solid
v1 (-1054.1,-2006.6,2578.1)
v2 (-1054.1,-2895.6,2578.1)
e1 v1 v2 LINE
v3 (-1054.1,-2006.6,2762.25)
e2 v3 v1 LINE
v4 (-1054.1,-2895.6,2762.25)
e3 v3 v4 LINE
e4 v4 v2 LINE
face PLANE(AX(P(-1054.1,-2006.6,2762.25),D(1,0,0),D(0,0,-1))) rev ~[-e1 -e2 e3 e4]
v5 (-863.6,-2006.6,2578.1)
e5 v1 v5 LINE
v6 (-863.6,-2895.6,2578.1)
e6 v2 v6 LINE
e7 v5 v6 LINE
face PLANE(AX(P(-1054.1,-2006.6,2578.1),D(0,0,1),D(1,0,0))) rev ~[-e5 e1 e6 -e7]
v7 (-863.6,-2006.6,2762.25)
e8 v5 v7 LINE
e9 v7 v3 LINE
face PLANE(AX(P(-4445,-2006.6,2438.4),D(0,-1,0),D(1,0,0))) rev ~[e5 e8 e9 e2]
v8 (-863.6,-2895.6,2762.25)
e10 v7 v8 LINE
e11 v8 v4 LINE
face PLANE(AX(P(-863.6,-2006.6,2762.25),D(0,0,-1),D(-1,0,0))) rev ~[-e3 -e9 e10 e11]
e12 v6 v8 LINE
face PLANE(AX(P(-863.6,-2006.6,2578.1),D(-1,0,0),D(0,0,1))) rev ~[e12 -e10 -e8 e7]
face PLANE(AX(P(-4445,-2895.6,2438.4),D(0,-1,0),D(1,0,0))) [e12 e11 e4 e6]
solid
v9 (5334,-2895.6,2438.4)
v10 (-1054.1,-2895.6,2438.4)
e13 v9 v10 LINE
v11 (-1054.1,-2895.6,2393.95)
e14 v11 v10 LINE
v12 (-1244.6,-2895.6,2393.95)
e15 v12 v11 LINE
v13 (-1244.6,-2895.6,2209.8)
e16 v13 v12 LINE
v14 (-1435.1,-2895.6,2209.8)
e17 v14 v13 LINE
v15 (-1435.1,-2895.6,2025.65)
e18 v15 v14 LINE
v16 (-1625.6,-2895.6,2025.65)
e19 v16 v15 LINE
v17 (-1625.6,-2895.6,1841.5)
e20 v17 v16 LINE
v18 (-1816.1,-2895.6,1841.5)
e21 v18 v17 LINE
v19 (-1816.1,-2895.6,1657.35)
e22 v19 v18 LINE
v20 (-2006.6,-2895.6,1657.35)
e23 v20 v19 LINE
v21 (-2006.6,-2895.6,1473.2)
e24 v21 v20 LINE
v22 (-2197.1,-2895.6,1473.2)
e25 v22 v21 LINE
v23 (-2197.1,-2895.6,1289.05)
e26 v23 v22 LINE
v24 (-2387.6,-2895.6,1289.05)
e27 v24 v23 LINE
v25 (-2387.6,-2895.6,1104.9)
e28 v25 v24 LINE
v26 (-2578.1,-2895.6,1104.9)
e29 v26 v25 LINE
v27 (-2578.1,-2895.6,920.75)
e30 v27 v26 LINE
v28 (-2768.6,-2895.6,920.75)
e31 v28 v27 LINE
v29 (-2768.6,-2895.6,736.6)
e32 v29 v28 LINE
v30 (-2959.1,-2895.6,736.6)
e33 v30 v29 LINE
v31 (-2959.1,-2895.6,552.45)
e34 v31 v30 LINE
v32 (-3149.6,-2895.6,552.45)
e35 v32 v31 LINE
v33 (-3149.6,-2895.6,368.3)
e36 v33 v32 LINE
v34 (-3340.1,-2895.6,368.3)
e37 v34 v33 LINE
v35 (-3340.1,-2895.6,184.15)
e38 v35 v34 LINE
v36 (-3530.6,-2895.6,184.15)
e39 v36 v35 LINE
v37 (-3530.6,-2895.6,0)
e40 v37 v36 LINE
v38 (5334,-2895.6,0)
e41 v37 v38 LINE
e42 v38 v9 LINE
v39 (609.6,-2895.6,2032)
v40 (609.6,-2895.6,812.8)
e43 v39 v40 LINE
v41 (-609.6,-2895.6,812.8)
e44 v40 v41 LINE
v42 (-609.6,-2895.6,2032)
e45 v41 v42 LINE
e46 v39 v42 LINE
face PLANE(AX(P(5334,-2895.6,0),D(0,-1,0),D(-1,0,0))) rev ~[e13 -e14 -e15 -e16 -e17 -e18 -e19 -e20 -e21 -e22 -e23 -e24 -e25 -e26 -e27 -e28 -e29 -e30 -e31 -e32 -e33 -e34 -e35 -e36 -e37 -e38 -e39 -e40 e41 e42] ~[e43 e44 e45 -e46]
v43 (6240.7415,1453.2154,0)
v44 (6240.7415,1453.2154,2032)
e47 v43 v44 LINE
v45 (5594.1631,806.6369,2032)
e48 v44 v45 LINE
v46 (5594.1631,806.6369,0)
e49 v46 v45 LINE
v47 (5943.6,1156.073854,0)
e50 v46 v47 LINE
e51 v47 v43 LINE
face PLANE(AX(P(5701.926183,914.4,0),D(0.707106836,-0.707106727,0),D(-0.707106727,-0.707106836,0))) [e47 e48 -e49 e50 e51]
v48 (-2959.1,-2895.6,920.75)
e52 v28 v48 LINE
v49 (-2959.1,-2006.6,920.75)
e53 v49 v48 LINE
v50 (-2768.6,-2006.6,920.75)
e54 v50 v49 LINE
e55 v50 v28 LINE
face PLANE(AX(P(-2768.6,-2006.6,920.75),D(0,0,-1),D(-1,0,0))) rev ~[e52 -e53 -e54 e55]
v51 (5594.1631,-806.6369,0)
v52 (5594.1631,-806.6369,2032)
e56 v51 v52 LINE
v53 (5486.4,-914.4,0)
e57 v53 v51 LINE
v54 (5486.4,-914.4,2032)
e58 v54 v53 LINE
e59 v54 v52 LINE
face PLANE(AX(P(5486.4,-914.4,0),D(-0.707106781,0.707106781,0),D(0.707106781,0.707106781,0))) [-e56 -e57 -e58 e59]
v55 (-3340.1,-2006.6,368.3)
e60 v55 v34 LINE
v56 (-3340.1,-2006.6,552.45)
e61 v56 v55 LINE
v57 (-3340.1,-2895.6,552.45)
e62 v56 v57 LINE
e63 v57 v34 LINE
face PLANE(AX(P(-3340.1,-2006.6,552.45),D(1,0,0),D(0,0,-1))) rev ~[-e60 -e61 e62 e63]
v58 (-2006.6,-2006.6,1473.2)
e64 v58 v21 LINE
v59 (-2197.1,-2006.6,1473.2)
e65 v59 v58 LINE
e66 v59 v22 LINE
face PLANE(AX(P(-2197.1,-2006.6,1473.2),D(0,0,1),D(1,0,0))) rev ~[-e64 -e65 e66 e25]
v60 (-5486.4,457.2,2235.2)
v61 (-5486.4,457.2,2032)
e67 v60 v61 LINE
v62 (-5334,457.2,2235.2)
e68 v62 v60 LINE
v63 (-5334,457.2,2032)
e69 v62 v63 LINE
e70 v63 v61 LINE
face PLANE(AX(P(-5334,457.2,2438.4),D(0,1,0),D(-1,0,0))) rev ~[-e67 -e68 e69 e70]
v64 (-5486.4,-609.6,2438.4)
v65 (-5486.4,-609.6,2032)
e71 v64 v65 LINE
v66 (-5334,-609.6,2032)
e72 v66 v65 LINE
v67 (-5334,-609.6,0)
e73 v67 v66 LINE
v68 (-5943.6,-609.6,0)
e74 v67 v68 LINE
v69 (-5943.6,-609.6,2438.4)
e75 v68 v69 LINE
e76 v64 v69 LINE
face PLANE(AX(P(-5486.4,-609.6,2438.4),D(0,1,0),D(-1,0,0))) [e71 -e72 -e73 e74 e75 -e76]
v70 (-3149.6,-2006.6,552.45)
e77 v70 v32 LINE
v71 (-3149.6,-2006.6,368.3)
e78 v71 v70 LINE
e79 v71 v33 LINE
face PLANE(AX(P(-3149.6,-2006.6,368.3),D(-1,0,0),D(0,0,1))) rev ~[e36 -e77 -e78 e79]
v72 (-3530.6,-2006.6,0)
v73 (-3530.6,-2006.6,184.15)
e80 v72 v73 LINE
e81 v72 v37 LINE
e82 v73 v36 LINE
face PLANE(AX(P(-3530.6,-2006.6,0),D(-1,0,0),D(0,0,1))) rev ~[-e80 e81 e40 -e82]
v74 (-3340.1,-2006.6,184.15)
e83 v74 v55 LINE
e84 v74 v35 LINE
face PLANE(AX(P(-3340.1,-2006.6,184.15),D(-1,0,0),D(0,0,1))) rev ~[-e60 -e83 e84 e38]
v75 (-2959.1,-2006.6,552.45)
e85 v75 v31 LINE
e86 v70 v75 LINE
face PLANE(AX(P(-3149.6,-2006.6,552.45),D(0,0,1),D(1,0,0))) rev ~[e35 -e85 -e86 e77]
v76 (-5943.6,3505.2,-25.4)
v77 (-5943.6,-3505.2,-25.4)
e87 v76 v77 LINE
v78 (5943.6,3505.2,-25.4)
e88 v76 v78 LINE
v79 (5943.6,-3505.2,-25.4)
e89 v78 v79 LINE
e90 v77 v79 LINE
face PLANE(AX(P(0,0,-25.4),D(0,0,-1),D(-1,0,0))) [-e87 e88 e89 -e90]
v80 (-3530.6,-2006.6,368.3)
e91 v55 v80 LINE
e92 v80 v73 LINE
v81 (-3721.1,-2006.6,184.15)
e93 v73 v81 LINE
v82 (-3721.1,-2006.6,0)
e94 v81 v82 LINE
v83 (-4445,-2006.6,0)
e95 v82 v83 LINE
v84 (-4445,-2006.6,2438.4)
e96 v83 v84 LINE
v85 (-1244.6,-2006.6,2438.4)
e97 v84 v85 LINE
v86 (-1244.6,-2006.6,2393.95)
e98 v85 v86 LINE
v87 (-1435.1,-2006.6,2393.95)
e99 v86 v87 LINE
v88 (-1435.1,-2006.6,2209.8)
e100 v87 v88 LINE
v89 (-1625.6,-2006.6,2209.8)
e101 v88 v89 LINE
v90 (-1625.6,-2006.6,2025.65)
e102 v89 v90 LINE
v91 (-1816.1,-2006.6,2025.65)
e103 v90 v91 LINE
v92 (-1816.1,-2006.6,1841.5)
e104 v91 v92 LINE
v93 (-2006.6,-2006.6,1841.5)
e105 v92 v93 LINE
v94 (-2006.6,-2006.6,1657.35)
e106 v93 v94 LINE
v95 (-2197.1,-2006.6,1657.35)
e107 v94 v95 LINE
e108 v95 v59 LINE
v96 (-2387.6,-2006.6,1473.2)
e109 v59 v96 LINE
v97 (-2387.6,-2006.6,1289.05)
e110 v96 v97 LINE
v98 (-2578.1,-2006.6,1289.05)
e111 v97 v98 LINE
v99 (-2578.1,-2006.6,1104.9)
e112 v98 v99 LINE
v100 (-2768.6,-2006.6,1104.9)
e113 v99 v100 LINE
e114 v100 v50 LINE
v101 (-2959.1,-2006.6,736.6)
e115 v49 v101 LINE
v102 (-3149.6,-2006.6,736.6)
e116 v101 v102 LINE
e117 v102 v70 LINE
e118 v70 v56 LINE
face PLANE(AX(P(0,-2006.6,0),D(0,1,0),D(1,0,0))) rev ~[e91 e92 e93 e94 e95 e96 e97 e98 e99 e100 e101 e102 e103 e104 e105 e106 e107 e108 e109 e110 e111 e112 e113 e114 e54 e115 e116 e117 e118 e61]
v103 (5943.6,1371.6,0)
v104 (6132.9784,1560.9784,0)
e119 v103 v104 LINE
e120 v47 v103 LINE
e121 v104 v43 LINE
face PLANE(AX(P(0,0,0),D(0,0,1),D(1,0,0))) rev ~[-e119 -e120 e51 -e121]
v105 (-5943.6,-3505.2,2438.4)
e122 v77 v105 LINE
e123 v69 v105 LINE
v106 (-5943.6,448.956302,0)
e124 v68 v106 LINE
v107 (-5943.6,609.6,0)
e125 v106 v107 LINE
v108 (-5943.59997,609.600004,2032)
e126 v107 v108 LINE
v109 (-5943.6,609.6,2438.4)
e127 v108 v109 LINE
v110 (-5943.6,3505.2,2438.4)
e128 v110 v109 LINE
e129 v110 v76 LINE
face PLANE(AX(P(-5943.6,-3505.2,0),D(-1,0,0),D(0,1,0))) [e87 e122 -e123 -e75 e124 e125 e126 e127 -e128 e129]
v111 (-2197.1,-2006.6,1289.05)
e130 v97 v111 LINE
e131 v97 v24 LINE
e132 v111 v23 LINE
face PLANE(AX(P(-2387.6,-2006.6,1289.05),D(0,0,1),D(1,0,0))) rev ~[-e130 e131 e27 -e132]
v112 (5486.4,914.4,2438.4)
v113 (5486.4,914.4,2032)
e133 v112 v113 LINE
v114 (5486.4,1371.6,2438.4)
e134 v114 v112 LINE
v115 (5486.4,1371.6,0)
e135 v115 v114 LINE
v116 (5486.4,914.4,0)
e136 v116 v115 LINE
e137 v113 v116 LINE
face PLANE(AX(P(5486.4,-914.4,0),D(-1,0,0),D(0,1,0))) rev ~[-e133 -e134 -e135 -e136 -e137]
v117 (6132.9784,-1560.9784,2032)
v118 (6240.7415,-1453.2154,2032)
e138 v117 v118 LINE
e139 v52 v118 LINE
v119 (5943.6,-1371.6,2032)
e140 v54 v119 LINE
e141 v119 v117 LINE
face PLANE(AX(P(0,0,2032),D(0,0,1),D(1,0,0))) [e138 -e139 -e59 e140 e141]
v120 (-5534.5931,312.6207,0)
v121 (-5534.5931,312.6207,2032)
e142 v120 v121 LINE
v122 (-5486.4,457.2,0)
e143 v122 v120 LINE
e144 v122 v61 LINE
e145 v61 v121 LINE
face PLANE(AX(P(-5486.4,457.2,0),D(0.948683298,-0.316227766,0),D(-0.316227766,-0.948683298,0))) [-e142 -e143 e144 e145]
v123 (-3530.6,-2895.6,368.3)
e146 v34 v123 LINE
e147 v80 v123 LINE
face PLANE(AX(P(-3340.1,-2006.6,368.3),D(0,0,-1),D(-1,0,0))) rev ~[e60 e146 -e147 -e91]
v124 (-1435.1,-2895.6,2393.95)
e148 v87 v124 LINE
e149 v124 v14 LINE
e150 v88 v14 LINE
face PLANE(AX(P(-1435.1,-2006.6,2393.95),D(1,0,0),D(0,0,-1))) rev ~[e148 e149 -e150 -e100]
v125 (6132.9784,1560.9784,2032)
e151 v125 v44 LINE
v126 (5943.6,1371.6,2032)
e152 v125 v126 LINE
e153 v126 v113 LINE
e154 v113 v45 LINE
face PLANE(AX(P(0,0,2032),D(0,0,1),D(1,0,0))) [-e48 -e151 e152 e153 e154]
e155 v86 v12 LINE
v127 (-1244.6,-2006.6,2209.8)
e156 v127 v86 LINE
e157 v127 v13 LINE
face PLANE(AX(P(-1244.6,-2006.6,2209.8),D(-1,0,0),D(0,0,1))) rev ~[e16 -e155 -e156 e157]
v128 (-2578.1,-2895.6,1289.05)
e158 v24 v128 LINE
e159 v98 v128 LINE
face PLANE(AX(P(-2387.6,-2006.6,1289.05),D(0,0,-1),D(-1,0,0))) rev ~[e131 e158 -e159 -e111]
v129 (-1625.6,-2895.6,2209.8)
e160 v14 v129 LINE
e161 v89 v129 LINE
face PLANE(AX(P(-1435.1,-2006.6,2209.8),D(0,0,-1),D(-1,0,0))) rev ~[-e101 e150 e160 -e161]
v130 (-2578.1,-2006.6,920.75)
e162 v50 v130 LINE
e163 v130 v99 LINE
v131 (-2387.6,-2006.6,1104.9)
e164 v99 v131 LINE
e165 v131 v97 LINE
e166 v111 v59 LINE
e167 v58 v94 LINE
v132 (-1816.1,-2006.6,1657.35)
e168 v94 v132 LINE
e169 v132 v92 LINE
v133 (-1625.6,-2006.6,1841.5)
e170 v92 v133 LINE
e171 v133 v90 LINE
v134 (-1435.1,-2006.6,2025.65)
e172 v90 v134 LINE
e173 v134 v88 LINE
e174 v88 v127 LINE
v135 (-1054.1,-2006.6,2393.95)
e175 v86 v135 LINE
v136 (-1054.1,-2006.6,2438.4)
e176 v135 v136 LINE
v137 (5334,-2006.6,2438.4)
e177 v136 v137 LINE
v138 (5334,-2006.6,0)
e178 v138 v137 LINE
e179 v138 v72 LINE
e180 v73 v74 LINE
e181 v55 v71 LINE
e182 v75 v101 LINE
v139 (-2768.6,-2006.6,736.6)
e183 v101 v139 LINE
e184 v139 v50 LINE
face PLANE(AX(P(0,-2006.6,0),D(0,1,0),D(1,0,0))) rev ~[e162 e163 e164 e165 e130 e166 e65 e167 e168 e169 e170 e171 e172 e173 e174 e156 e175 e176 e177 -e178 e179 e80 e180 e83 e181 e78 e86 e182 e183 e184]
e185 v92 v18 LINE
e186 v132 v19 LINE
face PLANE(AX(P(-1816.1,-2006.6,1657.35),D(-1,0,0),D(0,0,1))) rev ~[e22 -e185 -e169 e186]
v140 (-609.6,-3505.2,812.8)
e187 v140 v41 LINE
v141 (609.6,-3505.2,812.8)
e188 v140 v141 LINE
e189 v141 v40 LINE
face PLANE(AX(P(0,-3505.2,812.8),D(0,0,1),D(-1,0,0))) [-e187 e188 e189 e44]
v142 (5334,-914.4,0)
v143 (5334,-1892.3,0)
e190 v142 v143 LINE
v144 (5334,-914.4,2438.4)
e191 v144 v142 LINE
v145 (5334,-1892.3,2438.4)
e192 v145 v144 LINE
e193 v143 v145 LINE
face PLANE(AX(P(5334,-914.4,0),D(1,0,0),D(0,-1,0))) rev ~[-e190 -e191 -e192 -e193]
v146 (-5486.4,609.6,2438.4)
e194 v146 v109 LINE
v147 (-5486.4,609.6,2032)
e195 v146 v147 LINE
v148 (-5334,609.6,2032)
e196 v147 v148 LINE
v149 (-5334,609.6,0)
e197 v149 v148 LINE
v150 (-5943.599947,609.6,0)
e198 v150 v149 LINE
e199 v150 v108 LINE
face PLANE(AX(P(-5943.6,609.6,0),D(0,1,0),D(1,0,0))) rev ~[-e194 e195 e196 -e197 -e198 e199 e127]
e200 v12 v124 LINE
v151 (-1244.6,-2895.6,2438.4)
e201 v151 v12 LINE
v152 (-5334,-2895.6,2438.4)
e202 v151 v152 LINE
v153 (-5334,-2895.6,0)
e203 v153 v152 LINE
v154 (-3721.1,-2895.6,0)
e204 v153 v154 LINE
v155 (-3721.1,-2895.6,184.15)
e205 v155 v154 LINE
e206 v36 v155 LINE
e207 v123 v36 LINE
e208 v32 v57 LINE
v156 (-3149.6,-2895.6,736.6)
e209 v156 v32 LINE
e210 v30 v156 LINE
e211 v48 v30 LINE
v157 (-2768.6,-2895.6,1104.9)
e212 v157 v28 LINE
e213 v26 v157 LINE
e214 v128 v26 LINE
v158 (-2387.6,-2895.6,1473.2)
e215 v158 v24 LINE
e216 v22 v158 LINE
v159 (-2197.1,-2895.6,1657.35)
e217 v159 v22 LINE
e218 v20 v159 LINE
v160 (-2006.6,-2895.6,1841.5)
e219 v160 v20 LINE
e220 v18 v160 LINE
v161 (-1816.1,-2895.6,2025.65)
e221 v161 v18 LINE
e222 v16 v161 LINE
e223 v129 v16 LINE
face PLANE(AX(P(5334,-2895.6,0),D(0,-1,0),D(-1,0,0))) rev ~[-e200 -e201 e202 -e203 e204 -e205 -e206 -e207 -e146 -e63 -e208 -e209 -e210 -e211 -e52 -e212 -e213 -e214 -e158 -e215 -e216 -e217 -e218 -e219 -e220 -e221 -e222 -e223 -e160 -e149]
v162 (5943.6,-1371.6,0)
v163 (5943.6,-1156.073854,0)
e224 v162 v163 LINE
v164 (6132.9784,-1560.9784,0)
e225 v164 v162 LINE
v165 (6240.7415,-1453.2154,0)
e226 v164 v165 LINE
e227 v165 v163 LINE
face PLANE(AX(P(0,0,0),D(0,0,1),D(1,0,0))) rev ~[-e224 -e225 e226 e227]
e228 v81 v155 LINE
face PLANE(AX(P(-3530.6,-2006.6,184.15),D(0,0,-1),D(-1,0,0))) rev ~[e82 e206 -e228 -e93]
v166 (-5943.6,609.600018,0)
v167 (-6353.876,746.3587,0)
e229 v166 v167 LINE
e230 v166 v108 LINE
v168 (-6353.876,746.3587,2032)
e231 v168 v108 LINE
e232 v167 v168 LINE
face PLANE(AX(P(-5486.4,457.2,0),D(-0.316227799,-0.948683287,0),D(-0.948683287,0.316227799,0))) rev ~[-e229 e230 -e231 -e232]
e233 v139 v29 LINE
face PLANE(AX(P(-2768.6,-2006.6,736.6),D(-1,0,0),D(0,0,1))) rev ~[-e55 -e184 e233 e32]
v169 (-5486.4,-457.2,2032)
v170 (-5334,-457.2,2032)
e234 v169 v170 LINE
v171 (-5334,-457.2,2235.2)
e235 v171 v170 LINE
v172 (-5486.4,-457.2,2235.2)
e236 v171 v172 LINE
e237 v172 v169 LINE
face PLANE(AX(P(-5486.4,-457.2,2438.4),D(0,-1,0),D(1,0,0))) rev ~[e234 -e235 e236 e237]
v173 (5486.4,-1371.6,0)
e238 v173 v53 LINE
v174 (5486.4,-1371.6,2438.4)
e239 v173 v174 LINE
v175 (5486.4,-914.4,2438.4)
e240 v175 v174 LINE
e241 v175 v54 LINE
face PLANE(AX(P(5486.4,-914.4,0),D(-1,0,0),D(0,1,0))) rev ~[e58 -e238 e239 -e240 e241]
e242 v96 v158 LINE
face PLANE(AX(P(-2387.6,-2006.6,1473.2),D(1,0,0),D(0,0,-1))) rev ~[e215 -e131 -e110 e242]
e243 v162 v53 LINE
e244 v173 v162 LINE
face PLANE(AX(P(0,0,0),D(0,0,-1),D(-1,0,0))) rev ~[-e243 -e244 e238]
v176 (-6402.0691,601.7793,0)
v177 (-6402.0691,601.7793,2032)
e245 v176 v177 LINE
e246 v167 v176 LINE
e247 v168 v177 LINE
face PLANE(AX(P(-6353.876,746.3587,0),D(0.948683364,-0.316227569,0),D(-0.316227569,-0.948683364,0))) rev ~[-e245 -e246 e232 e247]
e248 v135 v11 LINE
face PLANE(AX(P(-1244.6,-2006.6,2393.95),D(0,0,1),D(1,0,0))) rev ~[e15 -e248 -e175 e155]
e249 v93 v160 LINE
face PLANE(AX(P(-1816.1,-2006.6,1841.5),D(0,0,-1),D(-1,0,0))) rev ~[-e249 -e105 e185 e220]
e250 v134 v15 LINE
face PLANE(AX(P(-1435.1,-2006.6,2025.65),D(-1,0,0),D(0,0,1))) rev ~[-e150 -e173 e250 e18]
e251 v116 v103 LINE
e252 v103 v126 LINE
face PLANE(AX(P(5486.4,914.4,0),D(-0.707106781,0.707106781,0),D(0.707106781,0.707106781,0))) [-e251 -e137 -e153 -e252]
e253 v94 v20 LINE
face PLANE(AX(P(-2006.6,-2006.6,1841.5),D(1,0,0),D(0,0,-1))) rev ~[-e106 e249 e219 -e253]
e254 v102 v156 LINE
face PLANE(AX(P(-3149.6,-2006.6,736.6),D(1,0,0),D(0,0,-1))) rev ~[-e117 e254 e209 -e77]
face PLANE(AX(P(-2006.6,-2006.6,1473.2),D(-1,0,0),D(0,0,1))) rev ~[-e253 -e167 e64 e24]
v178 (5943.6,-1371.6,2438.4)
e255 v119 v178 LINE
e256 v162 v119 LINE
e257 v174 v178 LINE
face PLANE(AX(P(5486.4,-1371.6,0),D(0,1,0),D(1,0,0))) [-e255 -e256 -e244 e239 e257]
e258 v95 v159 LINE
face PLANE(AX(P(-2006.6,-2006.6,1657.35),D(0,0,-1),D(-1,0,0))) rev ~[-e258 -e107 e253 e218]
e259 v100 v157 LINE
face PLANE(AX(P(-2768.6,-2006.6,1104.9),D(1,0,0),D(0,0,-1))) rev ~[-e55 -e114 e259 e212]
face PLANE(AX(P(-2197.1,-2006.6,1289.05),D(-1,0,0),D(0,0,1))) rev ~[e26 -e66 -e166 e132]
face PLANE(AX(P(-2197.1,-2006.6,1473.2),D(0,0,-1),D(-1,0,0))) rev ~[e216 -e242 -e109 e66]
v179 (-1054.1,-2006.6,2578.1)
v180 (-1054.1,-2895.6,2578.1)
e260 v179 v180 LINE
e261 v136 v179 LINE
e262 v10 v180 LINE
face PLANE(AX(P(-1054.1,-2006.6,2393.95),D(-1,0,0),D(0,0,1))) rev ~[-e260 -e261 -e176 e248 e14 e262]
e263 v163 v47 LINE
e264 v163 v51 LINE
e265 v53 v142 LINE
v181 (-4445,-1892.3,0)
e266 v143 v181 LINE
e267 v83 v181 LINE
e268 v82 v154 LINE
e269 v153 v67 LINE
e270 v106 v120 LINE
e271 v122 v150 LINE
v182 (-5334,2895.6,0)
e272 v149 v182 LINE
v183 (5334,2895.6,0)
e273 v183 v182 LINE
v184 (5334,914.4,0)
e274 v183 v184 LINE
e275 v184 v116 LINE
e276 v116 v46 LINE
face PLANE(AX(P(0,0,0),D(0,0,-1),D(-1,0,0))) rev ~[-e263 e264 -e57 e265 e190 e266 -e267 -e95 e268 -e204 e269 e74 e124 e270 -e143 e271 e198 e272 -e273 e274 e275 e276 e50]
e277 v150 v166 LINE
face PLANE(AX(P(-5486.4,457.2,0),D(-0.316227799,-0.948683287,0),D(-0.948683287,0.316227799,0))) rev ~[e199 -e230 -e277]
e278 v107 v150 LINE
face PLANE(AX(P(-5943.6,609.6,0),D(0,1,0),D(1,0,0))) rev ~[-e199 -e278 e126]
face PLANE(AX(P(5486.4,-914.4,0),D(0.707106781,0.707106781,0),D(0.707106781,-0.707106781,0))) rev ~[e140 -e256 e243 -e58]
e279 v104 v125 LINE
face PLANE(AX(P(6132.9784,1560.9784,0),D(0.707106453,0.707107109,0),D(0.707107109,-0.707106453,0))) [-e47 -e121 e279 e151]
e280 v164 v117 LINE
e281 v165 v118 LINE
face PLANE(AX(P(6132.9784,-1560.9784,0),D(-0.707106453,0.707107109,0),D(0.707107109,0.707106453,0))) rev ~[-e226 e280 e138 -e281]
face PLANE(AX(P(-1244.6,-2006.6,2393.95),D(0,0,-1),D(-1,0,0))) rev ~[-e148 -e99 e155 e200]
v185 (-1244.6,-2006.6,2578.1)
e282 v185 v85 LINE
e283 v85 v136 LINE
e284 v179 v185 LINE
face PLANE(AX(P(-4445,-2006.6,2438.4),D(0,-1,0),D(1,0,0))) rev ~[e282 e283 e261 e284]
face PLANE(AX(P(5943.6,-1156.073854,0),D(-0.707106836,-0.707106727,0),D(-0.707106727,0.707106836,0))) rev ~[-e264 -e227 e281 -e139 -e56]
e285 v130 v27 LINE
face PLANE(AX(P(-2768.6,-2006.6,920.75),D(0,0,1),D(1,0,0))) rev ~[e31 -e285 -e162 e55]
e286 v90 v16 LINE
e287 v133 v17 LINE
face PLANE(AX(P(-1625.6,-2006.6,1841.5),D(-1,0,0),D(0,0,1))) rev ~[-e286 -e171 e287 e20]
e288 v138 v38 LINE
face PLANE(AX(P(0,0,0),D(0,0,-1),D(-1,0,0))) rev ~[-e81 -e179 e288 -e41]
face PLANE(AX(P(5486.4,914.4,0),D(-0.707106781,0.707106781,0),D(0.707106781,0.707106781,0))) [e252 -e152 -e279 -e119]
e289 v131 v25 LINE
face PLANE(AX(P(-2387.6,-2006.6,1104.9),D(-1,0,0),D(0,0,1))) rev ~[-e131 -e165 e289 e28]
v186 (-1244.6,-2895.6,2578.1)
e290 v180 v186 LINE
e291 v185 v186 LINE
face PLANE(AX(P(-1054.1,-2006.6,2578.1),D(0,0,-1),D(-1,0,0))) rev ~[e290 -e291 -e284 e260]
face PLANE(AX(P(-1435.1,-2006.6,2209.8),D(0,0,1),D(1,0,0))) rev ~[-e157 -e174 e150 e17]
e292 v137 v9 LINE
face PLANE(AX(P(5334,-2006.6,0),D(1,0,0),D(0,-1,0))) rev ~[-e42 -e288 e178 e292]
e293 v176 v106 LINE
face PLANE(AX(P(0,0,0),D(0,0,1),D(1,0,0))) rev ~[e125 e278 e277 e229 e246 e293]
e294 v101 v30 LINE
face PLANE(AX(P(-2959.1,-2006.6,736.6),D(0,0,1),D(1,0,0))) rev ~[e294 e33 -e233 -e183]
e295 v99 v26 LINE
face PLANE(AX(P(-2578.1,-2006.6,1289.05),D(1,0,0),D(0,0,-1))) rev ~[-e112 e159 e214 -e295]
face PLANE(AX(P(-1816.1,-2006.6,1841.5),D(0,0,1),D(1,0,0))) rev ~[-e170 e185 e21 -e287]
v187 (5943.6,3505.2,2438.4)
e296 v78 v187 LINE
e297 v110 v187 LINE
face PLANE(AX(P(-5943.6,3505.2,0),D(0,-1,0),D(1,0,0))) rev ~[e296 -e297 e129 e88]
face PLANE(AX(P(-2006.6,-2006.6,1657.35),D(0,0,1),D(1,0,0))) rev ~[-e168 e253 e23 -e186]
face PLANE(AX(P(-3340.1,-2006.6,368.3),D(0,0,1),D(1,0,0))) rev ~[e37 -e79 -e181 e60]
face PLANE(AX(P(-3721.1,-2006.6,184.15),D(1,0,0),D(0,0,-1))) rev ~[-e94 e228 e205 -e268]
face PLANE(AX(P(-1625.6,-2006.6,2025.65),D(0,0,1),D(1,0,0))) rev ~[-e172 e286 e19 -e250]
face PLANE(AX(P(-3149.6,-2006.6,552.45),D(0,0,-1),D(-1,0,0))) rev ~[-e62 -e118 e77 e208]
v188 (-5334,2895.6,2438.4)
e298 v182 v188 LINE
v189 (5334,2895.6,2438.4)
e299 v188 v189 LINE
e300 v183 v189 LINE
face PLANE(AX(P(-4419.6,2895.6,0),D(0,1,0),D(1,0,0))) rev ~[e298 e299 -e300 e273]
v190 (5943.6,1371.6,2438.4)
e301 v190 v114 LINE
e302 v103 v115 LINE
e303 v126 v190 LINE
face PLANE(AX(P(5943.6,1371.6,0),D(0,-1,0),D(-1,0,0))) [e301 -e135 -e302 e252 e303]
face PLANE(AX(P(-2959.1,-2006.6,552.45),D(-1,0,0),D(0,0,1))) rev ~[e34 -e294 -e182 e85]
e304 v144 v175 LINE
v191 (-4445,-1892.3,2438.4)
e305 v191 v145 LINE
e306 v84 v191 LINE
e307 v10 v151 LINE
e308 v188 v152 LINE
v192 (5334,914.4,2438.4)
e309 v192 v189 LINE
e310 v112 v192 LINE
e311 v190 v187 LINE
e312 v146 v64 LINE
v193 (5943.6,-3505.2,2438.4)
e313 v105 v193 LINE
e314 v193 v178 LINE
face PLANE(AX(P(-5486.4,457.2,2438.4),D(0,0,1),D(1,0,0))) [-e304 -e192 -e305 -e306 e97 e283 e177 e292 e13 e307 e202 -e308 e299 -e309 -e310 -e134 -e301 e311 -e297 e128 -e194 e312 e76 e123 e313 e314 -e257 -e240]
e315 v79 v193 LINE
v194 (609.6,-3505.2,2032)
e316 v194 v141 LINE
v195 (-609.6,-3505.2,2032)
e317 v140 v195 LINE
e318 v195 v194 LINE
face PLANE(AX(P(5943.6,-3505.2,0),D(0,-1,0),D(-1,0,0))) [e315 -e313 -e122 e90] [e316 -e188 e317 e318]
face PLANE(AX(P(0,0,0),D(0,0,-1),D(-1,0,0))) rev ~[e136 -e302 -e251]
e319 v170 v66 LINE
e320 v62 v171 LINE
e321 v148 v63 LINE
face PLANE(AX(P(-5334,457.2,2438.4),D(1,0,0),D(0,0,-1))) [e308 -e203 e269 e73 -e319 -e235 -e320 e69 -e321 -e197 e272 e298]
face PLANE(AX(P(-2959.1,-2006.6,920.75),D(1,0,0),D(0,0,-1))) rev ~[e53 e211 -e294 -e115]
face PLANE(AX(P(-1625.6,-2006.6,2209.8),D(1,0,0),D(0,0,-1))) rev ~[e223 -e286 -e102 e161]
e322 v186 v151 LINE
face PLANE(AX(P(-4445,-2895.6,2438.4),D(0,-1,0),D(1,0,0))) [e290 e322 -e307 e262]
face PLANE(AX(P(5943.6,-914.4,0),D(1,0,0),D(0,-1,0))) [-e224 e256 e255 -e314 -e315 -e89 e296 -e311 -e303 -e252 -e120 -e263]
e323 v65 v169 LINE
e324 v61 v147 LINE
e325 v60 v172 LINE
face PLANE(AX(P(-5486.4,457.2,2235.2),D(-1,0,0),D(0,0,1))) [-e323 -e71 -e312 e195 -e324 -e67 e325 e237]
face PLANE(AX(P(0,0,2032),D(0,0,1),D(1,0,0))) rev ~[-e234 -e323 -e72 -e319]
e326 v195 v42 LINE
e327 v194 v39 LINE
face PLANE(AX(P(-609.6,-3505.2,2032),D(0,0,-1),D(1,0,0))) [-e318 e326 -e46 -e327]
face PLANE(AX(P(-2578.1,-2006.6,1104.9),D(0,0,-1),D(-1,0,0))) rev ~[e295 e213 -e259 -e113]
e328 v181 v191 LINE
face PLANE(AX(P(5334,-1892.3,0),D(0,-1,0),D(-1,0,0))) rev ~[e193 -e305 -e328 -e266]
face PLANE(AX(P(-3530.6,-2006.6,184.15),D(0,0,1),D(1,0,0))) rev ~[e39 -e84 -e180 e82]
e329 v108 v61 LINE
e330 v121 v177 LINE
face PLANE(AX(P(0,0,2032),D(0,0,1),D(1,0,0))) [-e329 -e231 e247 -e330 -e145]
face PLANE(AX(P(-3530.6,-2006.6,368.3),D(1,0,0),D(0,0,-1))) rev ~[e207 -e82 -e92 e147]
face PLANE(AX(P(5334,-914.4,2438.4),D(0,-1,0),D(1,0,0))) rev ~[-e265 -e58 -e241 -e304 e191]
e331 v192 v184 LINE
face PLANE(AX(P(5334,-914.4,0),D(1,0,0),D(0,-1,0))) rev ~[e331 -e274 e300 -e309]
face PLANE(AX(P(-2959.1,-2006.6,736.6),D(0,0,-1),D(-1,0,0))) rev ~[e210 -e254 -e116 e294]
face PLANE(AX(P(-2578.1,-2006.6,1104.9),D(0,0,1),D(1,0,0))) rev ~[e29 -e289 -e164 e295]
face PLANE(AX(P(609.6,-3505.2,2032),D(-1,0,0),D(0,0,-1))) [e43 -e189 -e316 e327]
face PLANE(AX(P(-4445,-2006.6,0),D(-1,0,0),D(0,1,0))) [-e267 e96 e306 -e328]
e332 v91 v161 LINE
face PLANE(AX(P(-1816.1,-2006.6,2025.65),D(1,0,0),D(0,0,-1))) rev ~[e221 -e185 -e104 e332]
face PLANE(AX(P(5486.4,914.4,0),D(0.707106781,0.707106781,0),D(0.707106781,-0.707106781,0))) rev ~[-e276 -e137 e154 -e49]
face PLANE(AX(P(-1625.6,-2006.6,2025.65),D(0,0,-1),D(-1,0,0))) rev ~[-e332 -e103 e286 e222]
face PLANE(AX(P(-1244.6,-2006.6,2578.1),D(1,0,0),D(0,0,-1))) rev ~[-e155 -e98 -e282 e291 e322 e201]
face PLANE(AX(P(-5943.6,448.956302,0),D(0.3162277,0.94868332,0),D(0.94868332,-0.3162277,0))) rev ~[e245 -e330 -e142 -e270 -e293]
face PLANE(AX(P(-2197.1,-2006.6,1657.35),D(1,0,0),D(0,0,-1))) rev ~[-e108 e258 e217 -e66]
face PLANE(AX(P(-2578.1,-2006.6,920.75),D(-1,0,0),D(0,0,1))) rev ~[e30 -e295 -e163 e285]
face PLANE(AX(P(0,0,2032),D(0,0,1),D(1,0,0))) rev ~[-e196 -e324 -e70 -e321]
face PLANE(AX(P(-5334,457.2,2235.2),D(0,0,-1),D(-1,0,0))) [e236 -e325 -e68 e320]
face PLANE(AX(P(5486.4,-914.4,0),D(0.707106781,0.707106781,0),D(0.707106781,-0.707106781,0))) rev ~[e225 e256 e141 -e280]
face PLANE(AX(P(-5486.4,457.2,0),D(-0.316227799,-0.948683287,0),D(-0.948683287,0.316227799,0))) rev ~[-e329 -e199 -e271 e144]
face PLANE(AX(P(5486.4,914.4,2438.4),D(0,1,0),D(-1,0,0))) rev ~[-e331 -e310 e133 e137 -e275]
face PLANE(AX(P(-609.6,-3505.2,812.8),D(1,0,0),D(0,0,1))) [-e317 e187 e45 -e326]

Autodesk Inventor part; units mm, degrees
ref_plane "YZ Plane" through (0, 0, 0) normal (1, 0, 0) x (0, 1, 0)
ref_plane "XZ Plane" through (0, 0, 0) normal (0, 1, 0) x (-1, 0, 0)
ref_plane "XY Plane" through (0, 0, 0) normal (0, 0, 1) x (1, 0, 0)
sketch "Sketch1" plane through (0, 0, 0) normal (0, 0, 1) x (1, 0, 0)
  line L0 (-8321.04, 0) -> (8321.04, 0) projected
  line L1 (-5943.6, 3505.2) -> (5943.6, 3505.2)
  line L2 (-5334, 2895.6) -> (5334, 2895.6)
  line L3 (-4572, 2895.6) -> (-4419.6, 2895.6)
  line L4 (-1981.2, -2006.6) -> (-4445, -2006.6)
  line L5 (-4445, -2006.6) -> (-4445, -1892.3)
  line L6 (-1219.2, -2895.6) -> (-1066.8, -2895.6)
  line L7 (5334, -2895.6) -> (0, -2895.6)
  line L8 (0, -2895.6) -> (-5334, -2895.6)
  line L9 (5943.6, -3505.2) -> (0, -3505.2)
  line L10 (0, -3505.2) -> (-5943.6, -3505.2)
  line L11 (5334, 914.4) -> (5943.6, 914.4)
  line L12 (5943.6, -914.4) -> (5334, -914.4)
  line L13 (5334, 2895.6) -> (5334, 914.4)
  line L14 (5334, -914.4) -> (5334, -2895.6)
  line L15 (5943.6, 3505.2) -> (5943.6, 914.4)
  line L16 (5943.6, -914.4) -> (5943.6, -3505.2)
  line L17 (-4445, -2006.6) -> (5334, -2006.6)
  line L18 (5334, -1892.3) -> (-4445, -1892.3)
  line L19 (-4445, -1892.3) -> (-4445, -2006.6)
  line L20 (5334, -1892.3) -> (5334, -2006.6)
  line L21 (-5943.6, 609.6) -> (-5334, 609.6)
  line L22 (-5334, -609.6) -> (-5943.6, -609.6)
  line L23 (-5943.6, -3505.2) -> (-5943.6, -609.6)
  line L24 (-5943.6, 609.6) -> (-5943.6, 3505.2)
  line L25 (-5334, -2895.6) -> (-5334, -609.6)
  line L26 (-5334, 609.6) -> (-5334, 2895.6)
  line L27 (-4445, -2006.6) -> (-4419.6, -2006.6)
  line L28 (-4419.6, 2895.6) -> (-4572, 2895.6)
  line L29 (-4445, -1892.3) -> (-4445, -2006.6)
  line L30 (0, -4907.28) -> (0, 4907.28) projected
  dimension "d18" = 7010.4
  dimension "d19" = 609.6
  dimension "d20" = 609.6
  dimension "d23" = 1828.8
  dimension "d24" = 2590.8
  dimension "d25" = 609.6
  dimension "d28" = 114.3
  dimension "d29" = 0
  dimension "d34" = 1219.2
  dimension "d35" = 2895.6
  dimension "d36" = 609.6
  dimension "d46" = 889
  dimension "d105" = 889
  dimension "d106" = 11887.2
extrude "Extrusion9" add sketch "Sketch1" along normal blind 2438.4 contours L18 L14 L17 L30 | L30 L17 L4 L5 L18 | L1 L30 L2 L26 L21 L24 | L1 L15 L11 L13 L2 L30 | L14 L12 L16 L9 L30 L7 | L30 L10 L23 L22 L25 L8 L6
sketch "Sketch8" plane through (0, 0, 0) normal (0, 0, -1) x (-1, 0, 0)
  line L0 (5943.6, 3505.2) -> (-5943.6, 3505.2) projected
  line L1 (-5943.6, 3505.2) -> (-5943.6, 914.4) projected
  line L2 (-5943.6, 914.4) -> (-5334, 914.4) projected
  line L3 (-5334, 914.4) -> (-5334, 2895.6) projected
  line L4 (-5334, 2895.6) -> (5334, 2895.6) projected
  line L5 (5334, 2895.6) -> (5334, 609.6) projected
  line L6 (5334, 609.6) -> (5943.6, 609.6) projected
  line L7 (5943.6, 609.6) -> (5943.6, 3505.2) projected
  line L8 (-5943.6, 3505.2) -> (5943.6, 3505.2)
  line L9 (5943.6, 3505.2) -> (5943.6, -3505.2)
  line L10 (5943.6, -3505.2) -> (-5943.6, -3505.2)
  line L11 (-5943.6, -3505.2) -> (-5943.6, 3505.2)
  point P0 (0, 0)
extrude "Extrusion10" add sketch "Sketch8" along normal blind 25.4
sketch "Sketch9" plane through (0, 0, 2438.4) normal (0, 0, 1) x (1, 0, 0)
  line L0 (5943.6, 3505.2) -> (-5943.6, 3505.2) projected
  line L1 (-5943.6, 3505.2) -> (-5943.6, 609.6) projected
  line L2 (-5943.6, 609.6) -> (-5334, 609.6) projected
  line L3 (-5334, 609.6) -> (-5334, 2895.6) projected
  line L4 (-5334, 2895.6) -> (5334, 2895.6) projected
  line L5 (5334, 2895.6) -> (5334, 914.4) projected
  line L6 (5334, 914.4) -> (5943.6, 914.4) projected
  line L7 (5943.6, 914.4) -> (5943.6, 3505.2) projected
  line L8 (-5943.6, 609.6) -> (-5334, 609.6)
  line L9 (-5334, 609.6) -> (-5334, -609.6)
  line L10 (-5334, -609.6) -> (-5943.6, -609.6)
  line L11 (-5943.6, -609.6) -> (-5943.6, 609.6)
  line L12 (5334, 914.4) -> (5943.6, 914.4)
  line L13 (5943.6, 914.4) -> (5943.6, -914.4)
  line L14 (5943.6, -914.4) -> (5334, -914.4)
  line L15 (5334, -914.4) -> (5334, 914.4)
  point P0 (0, 0)
extrude "Extrusion11" add sketch "Sketch9" against normal blind 406.4 contours L13 L14 L15 L6 | L2 L9 L10 L11
sketch "Sketch10" plane through (-4445, -2006.6, 2438.4) normal (0, -1, 0) x (1, 0, 0)
  line L0 (0, -2438.4) -> (9779, -2438.4) projected
  line L1 (0, -2438.4) -> (0, 0) projected
  line L2 (723.9, -2438.4) -> (914.4, -2438.4)
  line L3 (914.4, -2438.4) -> (914.4, -2254.25)
  line L4 (914.4, -2254.25) -> (723.9, -2254.25)
  line L5 (723.9, -2254.25) -> (723.9, -2438.4)
  line L6 (914.4, -2254.25) -> (1104.9, -2254.25)
  line L7 (1104.9, -2254.25) -> (1104.9, -2070.1)
  line L8 (1104.9, -2070.1) -> (914.4, -2070.1)
  line L9 (914.4, -2070.1) -> (914.4, -2254.25)
  line L10 (1104.9, -2070.1) -> (1295.4, -2070.1)
  line L11 (1295.4, -2070.1) -> (1295.4, -1885.95)
  line L12 (1295.4, -1885.95) -> (1104.9, -1885.95)
  line L13 (1104.9, -1885.95) -> (1104.9, -2070.1)
  line L14 (1295.4, -1885.95) -> (1485.9, -1885.95)
  line L15 (1485.9, -1885.95) -> (1485.9, -1701.8)
  line L16 (1485.9, -1701.8) -> (1295.4, -1701.8)
  line L17 (1295.4, -1701.8) -> (1295.4, -1885.95)
  line L18 (1485.9, -1701.8) -> (1676.4, -1701.8)
  line L19 (1676.4, -1701.8) -> (1676.4, -1517.65)
  line L20 (1676.4, -1517.65) -> (1485.9, -1517.65)
  line L21 (1485.9, -1517.65) -> (1485.9, -1701.8)
  line L22 (1676.4, -1517.65) -> (1866.9, -1517.65)
  line L23 (1866.9, -1517.65) -> (1866.9, -1333.5)
  line L24 (1866.9, -1333.5) -> (1676.4, -1333.5)
  line L25 (1676.4, -1333.5) -> (1676.4, -1517.65)
  line L26 (1866.9, -1333.5) -> (2057.4, -1333.5)
  line L27 (2057.4, -1333.5) -> (2057.4, -1149.35)
  line L28 (2057.4, -1149.35) -> (1866.9, -1149.35)
  line L29 (1866.9, -1149.35) -> (1866.9, -1333.5)
  line L30 (2438.4, -965.2) -> (2438.4, -781.05)
  line L31 (2247.9, -1149.35) -> (2247.9, -965.2)
  line L32 (2247.9, -965.2) -> (2438.4, -965.2)
  line L33 (2438.4, -781.05) -> (2247.9, -781.05)
  line L34 (2247.9, -781.05) -> (2247.9, -965.2)
  line L35 (2057.4, -1149.35) -> (2247.9, -1149.35)
  line L36 (2247.9, -965.2) -> (2057.4, -965.2)
  line L37 (2057.4, -965.2) -> (2057.4, -1149.35)
  line L38 (2628.9, -781.05) -> (2628.9, -596.9)
  line L39 (2438.4, -781.05) -> (2628.9, -781.05)
  line L40 (2628.9, -596.9) -> (2438.4, -596.9)
  line L41 (2438.4, -596.9) -> (2438.4, -781.05)
  line L42 (3200.4, -228.6) -> (3200.4, -44.45)
  line L43 (3200.4, 139.7) -> (3200.4, -44.45)
  line L44 (3200.4, -44.45) -> (3390.9, -44.45)
  line L45 (3390.9, 139.7) -> (3200.4, 139.7)
  line L46 (3009.9, -44.45) -> (3009.9, -228.6)
  line L47 (3009.9, -228.6) -> (3200.4, -228.6)
  line L48 (3200.4, -44.45) -> (3009.9, -44.45)
  line L49 (3390.9, -44.45) -> (3390.9, 139.7)
  line L50 (3009.9, -412.75) -> (3009.9, -228.6)
  line L51 (3009.9, -228.6) -> (2819.4, -228.6)
  line L52 (2819.4, -412.75) -> (3009.9, -412.75)
  line L53 (2819.4, -228.6) -> (2819.4, -412.75)
  line L54 (2819.4, -596.9) -> (2819.4, -412.75)
  line L55 (2819.4, -412.75) -> (2628.9, -412.75)
  line L56 (2628.9, -596.9) -> (2819.4, -596.9)
  line L57 (2628.9, -412.75) -> (2628.9, -596.9)
  line L58 (3390.9, 139.7) -> (3581.4, 139.7)
  line L59 (3581.4, 139.7) -> (3581.4, 323.85)
  line L60 (3581.4, 323.85) -> (3390.9, 323.85)
  line L61 (3390.9, 323.85) -> (3390.9, 139.7)
  point P0 (8445.5, -2438.4)
  point P1 (4445, -2438.4)
  dimension "d113" = 190.5
  dimension "d115" = 184.15
  dimension "d116" = 723.9
  dimension "d117" = 190.5
  dimension "d118" = 184.15
  dimension "d119" = 190.5
  dimension "d120" = 184.15
  dimension "d121" = 190.5
  dimension "d122" = 184.15
  dimension "d123" = 190.5
  dimension "d124" = 184.15
  dimension "d125" = 190.5
  dimension "d126" = 184.15
  dimension "d127" = 190.5
  dimension "d128" = 184.15
  dimension "d129" = 190.5
  dimension "d130" = 184.15
  dimension "d131" = 190.5
  dimension "d132" = 184.15
  dimension "d133" = 190.5
  dimension "d134" = 184.15
  dimension "d135" = 190.5
  dimension "d136" = 184.15
  dimension "d137" = 190.5
  dimension "d138" = 184.15
  dimension "d139" = 190.5
  dimension "d140" = 184.15
  dimension "d141" = 190.5
  dimension "d142" = 184.15
  dimension "d154" = 184.15
  dimension "d155" = 190.5
extrude "Extrusion12" add sketch "Sketch10" along normal up to surface (889 mm away)
sketch "Sketch11" plane through (-5943.6, -3505.2, 2438.4) normal (0, -1, 0) x (1, 0, 0)
  line L0 (5334, -406.4) -> (6553.2, -406.4)
  line L1 (6553.2, -406.4) -> (6553.2, -1625.6)
  line L2 (6553.2, -1625.6) -> (5334, -1625.6)
  line L3 (5334, -1625.6) -> (5334, -406.4)
  line L4 (11277.6, -2438.4) -> (2413, -2438.4) projected
  line L5 (5943.6, -2956.56) -> (5943.6, 492.76) projected
  point P0 (5943.6, -2438.4)
  dimension "d145" = 1219.2
  dimension "d147" = 1219.2
  dimension "d148" = 812.8
extrude "Extrusion13" cut sketch "Sketch11" against normal up to surface (609.6 mm away)
sketch "Sketch14" plane through (0, 0, 2032) normal (0, 0, -1) x (-1, 0, 0)
  line L0 (-5334, -914.4) -> (-5334, 914.4) projected
  line L1 (-5943.6, 914.4) -> (-5943.6, -914.4) projected
  line L2 (-8321.04, 0) -> (8321.04, 0) projected
  line L3 (-5943.6, 12.7) -> (-5334, 12.7)
  line L4 (-5334, 12.7) -> (-5334, -12.7)
  line L5 (-5334, -12.7) -> (-5943.6, -12.7)
  line L6 (-5943.6, -12.7) -> (-5943.6, 12.7)
  point P0 (0, 0)
  dimension "d156" = 25.4
extrude "Extrusion15" add sketch "Sketch14" along normal blind 25.4
sketch "Sketch15" plane through (0, 0, 0) normal (0, 0, 1) x (1, 0, 0)
  line L0 (5334, -914.4) -> (5334, -1892.3) projected
  line L1 (5943.6, -914.4) -> (5334, -914.4) projected
  line L2 (5943.6, 914.4) -> (5334, 914.4) projected
  line L3 (5334, 914.4) -> (5334, 2895.6) projected
  line L4 (-5334, 2895.6) -> (-5334, 609.6) projected
  line L5 (-5334, -609.6) -> (-5943.6, -609.6) projected
  line L6 (-3721.1, -2895.6) -> (-5334, -2895.6) projected
  line L7 (-8321.04, 0) -> (8321.04, 0) projected
  circle A0 centre (-1778, 0) radius 152.4
  circle A1 centre (1778, 0) radius 152.4
  line L8 (-4445, -2006.6) -> (-5334, -2006.6)
  line L9 (-5334, -2006.6) -> (-5334, -2895.6)
  line L10 (-5334, -2895.6) -> (-4445, -2895.6)
  line L11 (-4445, -2895.6) -> (-4445, -2006.6)
  circle A2 centre (-4889.5, -2451.1) radius 152.4
  circle A3 centre (-5334, 0) radius 152.4
  line L12 (-5118.1, -215.9) -> (-5549.9, -215.9)
  line L13 (-5549.9, -215.9) -> (-5549.9, 215.9)
  line L14 (-5549.9, 215.9) -> (-5118.1, -215.9)
  circle A4 centre (5334, 457.2) radius 152.4
  line L15 (5549.9, 241.3) -> (5118.1, 241.3)
  line L16 (5118.1, 241.3) -> (5118.1, 673.1)
  line L17 (5118.1, 673.1) -> (5549.9, 241.3)
  circle A5 centre (5334, -457.2) radius 152.4
  line L18 (5549.9, -673.1) -> (5118.1, -673.1)
  line L19 (5118.1, -241.3) -> (5549.9, -673.1)
  line L20 (5118.1, -673.1) -> (5118.1, -241.3)
  line L21 (-4713.5236, -2146.3) -> (-4537.5473, -2451.1)
  line L22 (-4537.5473, -2451.1) -> (-4713.5236, -2755.9)
  line L23 (-4713.5236, -2755.9) -> (-5065.4764, -2755.9)
  line L24 (-5065.4764, -2755.9) -> (-5241.4527, -2451.1)
  line L25 (-5241.4527, -2451.1) -> (-5065.4764, -2146.3)
  line L26 (-5065.4764, -2146.3) -> (-4713.5236, -2146.3)
  line L27 (-5943.6, -3505.2) -> (-5943.6, 3505.2) projected
  line L28 (-5334, -609.6) -> (-5943.6, -609.6)
  line L29 (-5943.6, -609.6) -> (-5943.6, 609.6)
  line L30 (-5943.6, 609.6) -> (-5334, 609.6)
  line L31 (-5334, 609.6) -> (-5334, -609.6)
  line L32 (-5486.4, 609.6) -> (-5334, 609.6)
  line L33 (-5334, 609.6) -> (-5334, 457.2)
  line L34 (-5334, 457.2) -> (-5486.4, 457.2)
  line L35 (-5486.4, 457.2) -> (-5486.4, 609.6)
  line L36 (-5334, -609.6) -> (-5486.4, -609.6)
  line L37 (-5486.4, -609.6) -> (-5486.4, -457.2)
  line L38 (-5486.4, -457.2) -> (-5334, -457.2)
  line L39 (-5334, -457.2) -> (-5334, -609.6)
  line L40 (5943.6, 3505.2) -> (5943.6, -3505.2) projected
  line L41 (5486.4, 914.4) -> (5943.6, 914.4)
  line L42 (5943.6, 914.4) -> (5943.6, 1371.6)
  line L43 (5943.6, 1371.6) -> (5486.4, 1371.6)
  line L44 (5486.4, 1371.6) -> (5486.4, 914.4)
  line L45 (5943.6, -914.4) -> (5486.4, -914.4)
  line L46 (5486.4, -914.4) -> (5486.4, -1371.6)
  line L47 (5486.4, -1371.6) -> (5943.6, -1371.6)
  line L48 (5943.6, -1371.6) -> (5943.6, -914.4)
  line L49 (5486.4, 914.4) -> (6132.9784, 1560.9784)
  line L50 (6132.9784, 1560.9784) -> (6240.7415, 1453.2154)
  line L51 (6240.7415, 1453.2154) -> (5594.1631, 806.6369)
  line L52 (5486.4, 914.4) -> (5594.1631, 806.6369)
  line L53 (5486.4, -914.4) -> (6132.9784, -1560.9784)
  line L54 (6132.9784, -1560.9784) -> (6240.7415, -1453.2154)
  line L55 (6240.7415, -1453.2154) -> (5594.1631, -806.6369)
  line L56 (5486.4, -914.4) -> (5594.1631, -806.6369)
  line L57 (5486.4, 1371.6) -> (5943.6, 1371.6)
  line L58 (5943.6, 1371.6) -> (5943.6, -1371.6)
  line L59 (5943.6, -1371.6) -> (5486.4, -1371.6)
  line L60 (5486.4, -1371.6) -> (5486.4, 1371.6)
  line L61 (-5486.4, 457.2) -> (-6353.876, 746.3587)
  line L62 (-6353.876, 746.3587) -> (-6402.0691, 601.7793)
  line L63 (-6402.0691, 601.7793) -> (-5534.5931, 312.6207)
  line L64 (-5486.4, 457.2) -> (-5534.5931, 312.6207)
  point P0 (0, 0)
  point P1 (1.5875, 1.5875)
  point P2 (770.0638, -2405.9824)
  point P3 (-4729.4618, 0)
  point P4 (5334, 457.2)
  point P5 (5334, -457.2)
  dimension "d161" = 304.8
  dimension "d163" = 304.8
  dimension "d164" = 3556
  dimension "d165" = 7112
  dimension "d166" = 304.8
  dimension "d167" = 444.5
  dimension "d168" = 444.5
  dimension "d169" = 304.8
  dimension "d172" = 431.8
  dimension "d173" = 431.8
  dimension "d174" = 215.9
  dimension "d175" = 304.8
  dimension "d176" = 431.8
  dimension "d177" = 431.8
  dimension "d178" = 215.9
  dimension "d179" = 304.8
  dimension "d180" = 431.8
  dimension "d181" = 431.8
  dimension "d182" = 215.9
  dimension "d183" = 457.2
  dimension "d184" = 457.2
  dimension "d185" = 609.6
  dimension "d192" = 152.4
  dimension "d193" = 152.4
  dimension "d194" = 152.4
  dimension "d195" = 457.2
  dimension "d196" = 457.2
  dimension "d197" = 457.2
  dimension "d198" = 457.2
  dimension "d199" = 914.4
  dimension "d200" = 152.4
  dimension "d215" = 152.4
  dimension "d216" = 914.4
extrude "Extrusion18" add sketch "Sketch15" along normal blind 25.4 contours L60 L19 L18 | L18 L20 L19 A5 L60 | L60 L17 L15 | L15 L16 L17 A4 L60 | L19 A5 | A4 L17 picked at (5279.404, -461.4477) picked at (5356.0413, 411.4308)
extrude "Extrusion19" cut sketch "Sketch15" along normal up to surface (2438.4 mm away) contours L40 L55 L1 | L1 L55 L56 L60 L18 L19 L7 L40 | L55 L40 L53 L1 | L1 L56 L55 | L7 L60 L15 L17 L52 L51 L2 L40 | L53 L47 L46 | L2 L51 L40 | L60 L19 L18 | L60 L17 L15 | L51 L52 L2 | L2 L49 L40 L51 | L44 L43 L49
extrude "Extrusion20" add sketch "Sketch15" along normal blind 25.4 contours L60 L19 L18 | L18 L20 L19 A5 L60 | L60 L17 L15 | L15 L16 L17 A4 L60 | L19 A5 | A4 L17 picked at (5279.404, -461.4477) picked at (5356.0413, 411.4308)
extrude "Extrusion21" add sketch "Sketch15" along normal blind 2032 contours L55 L40 L53 L1 | L1 L56 L55 | L55 L54 L53 L40 | L51 L52 L2 | L2 L49 L40 L51 | L40 L49 L50 L51
sketch "Sketch16" plane through (0, 0, 2438.4) normal (0, 0, 1) x (1, 0, 0)
  line L0 (5486.4, 914.4) -> (5334, 914.4) projected
  line L1 (5334, -914.4) -> (5486.4, -914.4) projected
  line L2 (5334, 914.4) -> (5486.4, 914.4)
  line L3 (5486.4, 914.4) -> (5486.4, -914.4)
  line L4 (5486.4, -914.4) -> (5334, -914.4)
  line L5 (5334, -914.4) -> (5334, 914.4)
  point P0 (0, 0)
extrude "Extrusion22" cut sketch "Sketch16" against normal up to surface (431.8 mm away)
sketch "Sketch17" plane through (0, 0, 2438.4) normal (0, 0, 1) x (1, 0, 0)
  line L0 (-5334, -2895.6) -> (-5334, 2895.6) projected
  line L1 (-5943.6, 3505.2) -> (-5943.6, -3505.2) projected
  line L2 (-5334, 609.6) -> (-5334, -609.6) projected
  line L3 (-5486.4, 457.2) -> (-5486.4, 609.6) projected
  line L4 (-5334, 457.2) -> (-5486.4, 457.2) projected
  line L5 (-5334, 609.6) -> (-5943.6, 609.6) projected
  line L6 (-5486.4, -457.2) -> (-5334, -457.2) projected
  line L7 (-5486.4, -609.6) -> (-5486.4, -457.2) projected
  line L8 (-5334, -609.6) -> (-5943.6, -609.6) projected
  point P0 (0, 0)
extrude "Extrusion23" cut sketch "Sketch17" against normal up to surface (406.4 mm away) contours L6 L7 L8 L1 L5 L3 L4 L0
sketch "Sketch18" plane through (-5486.4, 457.2, 2438.4) normal (0, -1, 0) x (1, 0, 0)
  line L0 (152.4, 0) -> (152.4, -406.4) projected
  line L1 (0, 0) -> (152.4, 0)
  line L2 (152.4, 0) -> (152.4, -203.2)
  line L3 (152.4, -203.2) -> (0, -203.2)
  line L4 (0, -203.2) -> (0, 0)
  point P0 (5486.4, -2438.4)
extrude "Extrusion24" add sketch "Sketch18" along normal up to surface (914.4 mm away)
extrude "Extrusion25" cut sketch "Sketch15" along normal blind 25.4 contours L60 L19 L18 | L18 L20 L19 A5 L60 | L60 L17 L15 | L15 L16 L17 A4 L60 | L19 A5 | A4 L17 picked at (5279.404, -461.4477) picked at (5356.0413, 411.4308)
extrude "Extrusion26" add sketch "Sketch15" along normal blind 2032 contours L64 L63 L27 L61 | L27 L63 L62 L61
sketch "Sketch12" plane through (0, 0, 2438.4) normal (0, 0, 1) x (1, 0, 0)
  line L0 (-5943.6, -3505.2) -> (5943.6, -3505.2) projected
  line L1 (5943.6, -3505.2) -> (5943.6, 3505.2) projected
  line L2 (5943.6, 3505.2) -> (-5943.6, 3505.2) projected
  line L3 (-5943.6, 3505.2) -> (5943.6, 3505.2)
  line L4 (5943.6, 3505.2) -> (5943.6, -2463.8)
  line L5 (5943.6, -2463.8) -> (-5943.6, -2463.8)
  line L6 (-5943.6, -2463.8) -> (-5943.6, 3505.2)
  line L7 (-1054.1, -2006.6) -> (5943.6, -2006.6)
  line L8 (5943.6, -2006.6) -> (5943.6, -3505.2)
  line L9 (5943.6, -3505.2) -> (-1054.1, -3505.2)
  line L10 (-1054.1, -3505.2) -> (-1054.1, -2006.6)
  line L11 (-5943.6, -2463.8) -> (-5181.6, -2463.8)
  line L12 (-5181.6, -2463.8) -> (-5181.6, -3505.2)
  line L13 (-5181.6, -3505.2) -> (-5943.6, -3505.2)
  line L14 (-5943.6, -3505.2) -> (-5943.6, -2463.8)
  line L15 (-1054.1, -2895.6) -> (-5943.6, -2895.6)
  line L16 (-5943.6, -2895.6) -> (-5943.6, -3505.2)
  line L17 (-5943.6, -3505.2) -> (-1054.1, -3505.2)
  line L18 (-1054.1, -3505.2) -> (-1054.1, -2895.6)
  point P0 (0, 0)
properties part number "West_Structure_Hose_Test_18_1st_Floor"
